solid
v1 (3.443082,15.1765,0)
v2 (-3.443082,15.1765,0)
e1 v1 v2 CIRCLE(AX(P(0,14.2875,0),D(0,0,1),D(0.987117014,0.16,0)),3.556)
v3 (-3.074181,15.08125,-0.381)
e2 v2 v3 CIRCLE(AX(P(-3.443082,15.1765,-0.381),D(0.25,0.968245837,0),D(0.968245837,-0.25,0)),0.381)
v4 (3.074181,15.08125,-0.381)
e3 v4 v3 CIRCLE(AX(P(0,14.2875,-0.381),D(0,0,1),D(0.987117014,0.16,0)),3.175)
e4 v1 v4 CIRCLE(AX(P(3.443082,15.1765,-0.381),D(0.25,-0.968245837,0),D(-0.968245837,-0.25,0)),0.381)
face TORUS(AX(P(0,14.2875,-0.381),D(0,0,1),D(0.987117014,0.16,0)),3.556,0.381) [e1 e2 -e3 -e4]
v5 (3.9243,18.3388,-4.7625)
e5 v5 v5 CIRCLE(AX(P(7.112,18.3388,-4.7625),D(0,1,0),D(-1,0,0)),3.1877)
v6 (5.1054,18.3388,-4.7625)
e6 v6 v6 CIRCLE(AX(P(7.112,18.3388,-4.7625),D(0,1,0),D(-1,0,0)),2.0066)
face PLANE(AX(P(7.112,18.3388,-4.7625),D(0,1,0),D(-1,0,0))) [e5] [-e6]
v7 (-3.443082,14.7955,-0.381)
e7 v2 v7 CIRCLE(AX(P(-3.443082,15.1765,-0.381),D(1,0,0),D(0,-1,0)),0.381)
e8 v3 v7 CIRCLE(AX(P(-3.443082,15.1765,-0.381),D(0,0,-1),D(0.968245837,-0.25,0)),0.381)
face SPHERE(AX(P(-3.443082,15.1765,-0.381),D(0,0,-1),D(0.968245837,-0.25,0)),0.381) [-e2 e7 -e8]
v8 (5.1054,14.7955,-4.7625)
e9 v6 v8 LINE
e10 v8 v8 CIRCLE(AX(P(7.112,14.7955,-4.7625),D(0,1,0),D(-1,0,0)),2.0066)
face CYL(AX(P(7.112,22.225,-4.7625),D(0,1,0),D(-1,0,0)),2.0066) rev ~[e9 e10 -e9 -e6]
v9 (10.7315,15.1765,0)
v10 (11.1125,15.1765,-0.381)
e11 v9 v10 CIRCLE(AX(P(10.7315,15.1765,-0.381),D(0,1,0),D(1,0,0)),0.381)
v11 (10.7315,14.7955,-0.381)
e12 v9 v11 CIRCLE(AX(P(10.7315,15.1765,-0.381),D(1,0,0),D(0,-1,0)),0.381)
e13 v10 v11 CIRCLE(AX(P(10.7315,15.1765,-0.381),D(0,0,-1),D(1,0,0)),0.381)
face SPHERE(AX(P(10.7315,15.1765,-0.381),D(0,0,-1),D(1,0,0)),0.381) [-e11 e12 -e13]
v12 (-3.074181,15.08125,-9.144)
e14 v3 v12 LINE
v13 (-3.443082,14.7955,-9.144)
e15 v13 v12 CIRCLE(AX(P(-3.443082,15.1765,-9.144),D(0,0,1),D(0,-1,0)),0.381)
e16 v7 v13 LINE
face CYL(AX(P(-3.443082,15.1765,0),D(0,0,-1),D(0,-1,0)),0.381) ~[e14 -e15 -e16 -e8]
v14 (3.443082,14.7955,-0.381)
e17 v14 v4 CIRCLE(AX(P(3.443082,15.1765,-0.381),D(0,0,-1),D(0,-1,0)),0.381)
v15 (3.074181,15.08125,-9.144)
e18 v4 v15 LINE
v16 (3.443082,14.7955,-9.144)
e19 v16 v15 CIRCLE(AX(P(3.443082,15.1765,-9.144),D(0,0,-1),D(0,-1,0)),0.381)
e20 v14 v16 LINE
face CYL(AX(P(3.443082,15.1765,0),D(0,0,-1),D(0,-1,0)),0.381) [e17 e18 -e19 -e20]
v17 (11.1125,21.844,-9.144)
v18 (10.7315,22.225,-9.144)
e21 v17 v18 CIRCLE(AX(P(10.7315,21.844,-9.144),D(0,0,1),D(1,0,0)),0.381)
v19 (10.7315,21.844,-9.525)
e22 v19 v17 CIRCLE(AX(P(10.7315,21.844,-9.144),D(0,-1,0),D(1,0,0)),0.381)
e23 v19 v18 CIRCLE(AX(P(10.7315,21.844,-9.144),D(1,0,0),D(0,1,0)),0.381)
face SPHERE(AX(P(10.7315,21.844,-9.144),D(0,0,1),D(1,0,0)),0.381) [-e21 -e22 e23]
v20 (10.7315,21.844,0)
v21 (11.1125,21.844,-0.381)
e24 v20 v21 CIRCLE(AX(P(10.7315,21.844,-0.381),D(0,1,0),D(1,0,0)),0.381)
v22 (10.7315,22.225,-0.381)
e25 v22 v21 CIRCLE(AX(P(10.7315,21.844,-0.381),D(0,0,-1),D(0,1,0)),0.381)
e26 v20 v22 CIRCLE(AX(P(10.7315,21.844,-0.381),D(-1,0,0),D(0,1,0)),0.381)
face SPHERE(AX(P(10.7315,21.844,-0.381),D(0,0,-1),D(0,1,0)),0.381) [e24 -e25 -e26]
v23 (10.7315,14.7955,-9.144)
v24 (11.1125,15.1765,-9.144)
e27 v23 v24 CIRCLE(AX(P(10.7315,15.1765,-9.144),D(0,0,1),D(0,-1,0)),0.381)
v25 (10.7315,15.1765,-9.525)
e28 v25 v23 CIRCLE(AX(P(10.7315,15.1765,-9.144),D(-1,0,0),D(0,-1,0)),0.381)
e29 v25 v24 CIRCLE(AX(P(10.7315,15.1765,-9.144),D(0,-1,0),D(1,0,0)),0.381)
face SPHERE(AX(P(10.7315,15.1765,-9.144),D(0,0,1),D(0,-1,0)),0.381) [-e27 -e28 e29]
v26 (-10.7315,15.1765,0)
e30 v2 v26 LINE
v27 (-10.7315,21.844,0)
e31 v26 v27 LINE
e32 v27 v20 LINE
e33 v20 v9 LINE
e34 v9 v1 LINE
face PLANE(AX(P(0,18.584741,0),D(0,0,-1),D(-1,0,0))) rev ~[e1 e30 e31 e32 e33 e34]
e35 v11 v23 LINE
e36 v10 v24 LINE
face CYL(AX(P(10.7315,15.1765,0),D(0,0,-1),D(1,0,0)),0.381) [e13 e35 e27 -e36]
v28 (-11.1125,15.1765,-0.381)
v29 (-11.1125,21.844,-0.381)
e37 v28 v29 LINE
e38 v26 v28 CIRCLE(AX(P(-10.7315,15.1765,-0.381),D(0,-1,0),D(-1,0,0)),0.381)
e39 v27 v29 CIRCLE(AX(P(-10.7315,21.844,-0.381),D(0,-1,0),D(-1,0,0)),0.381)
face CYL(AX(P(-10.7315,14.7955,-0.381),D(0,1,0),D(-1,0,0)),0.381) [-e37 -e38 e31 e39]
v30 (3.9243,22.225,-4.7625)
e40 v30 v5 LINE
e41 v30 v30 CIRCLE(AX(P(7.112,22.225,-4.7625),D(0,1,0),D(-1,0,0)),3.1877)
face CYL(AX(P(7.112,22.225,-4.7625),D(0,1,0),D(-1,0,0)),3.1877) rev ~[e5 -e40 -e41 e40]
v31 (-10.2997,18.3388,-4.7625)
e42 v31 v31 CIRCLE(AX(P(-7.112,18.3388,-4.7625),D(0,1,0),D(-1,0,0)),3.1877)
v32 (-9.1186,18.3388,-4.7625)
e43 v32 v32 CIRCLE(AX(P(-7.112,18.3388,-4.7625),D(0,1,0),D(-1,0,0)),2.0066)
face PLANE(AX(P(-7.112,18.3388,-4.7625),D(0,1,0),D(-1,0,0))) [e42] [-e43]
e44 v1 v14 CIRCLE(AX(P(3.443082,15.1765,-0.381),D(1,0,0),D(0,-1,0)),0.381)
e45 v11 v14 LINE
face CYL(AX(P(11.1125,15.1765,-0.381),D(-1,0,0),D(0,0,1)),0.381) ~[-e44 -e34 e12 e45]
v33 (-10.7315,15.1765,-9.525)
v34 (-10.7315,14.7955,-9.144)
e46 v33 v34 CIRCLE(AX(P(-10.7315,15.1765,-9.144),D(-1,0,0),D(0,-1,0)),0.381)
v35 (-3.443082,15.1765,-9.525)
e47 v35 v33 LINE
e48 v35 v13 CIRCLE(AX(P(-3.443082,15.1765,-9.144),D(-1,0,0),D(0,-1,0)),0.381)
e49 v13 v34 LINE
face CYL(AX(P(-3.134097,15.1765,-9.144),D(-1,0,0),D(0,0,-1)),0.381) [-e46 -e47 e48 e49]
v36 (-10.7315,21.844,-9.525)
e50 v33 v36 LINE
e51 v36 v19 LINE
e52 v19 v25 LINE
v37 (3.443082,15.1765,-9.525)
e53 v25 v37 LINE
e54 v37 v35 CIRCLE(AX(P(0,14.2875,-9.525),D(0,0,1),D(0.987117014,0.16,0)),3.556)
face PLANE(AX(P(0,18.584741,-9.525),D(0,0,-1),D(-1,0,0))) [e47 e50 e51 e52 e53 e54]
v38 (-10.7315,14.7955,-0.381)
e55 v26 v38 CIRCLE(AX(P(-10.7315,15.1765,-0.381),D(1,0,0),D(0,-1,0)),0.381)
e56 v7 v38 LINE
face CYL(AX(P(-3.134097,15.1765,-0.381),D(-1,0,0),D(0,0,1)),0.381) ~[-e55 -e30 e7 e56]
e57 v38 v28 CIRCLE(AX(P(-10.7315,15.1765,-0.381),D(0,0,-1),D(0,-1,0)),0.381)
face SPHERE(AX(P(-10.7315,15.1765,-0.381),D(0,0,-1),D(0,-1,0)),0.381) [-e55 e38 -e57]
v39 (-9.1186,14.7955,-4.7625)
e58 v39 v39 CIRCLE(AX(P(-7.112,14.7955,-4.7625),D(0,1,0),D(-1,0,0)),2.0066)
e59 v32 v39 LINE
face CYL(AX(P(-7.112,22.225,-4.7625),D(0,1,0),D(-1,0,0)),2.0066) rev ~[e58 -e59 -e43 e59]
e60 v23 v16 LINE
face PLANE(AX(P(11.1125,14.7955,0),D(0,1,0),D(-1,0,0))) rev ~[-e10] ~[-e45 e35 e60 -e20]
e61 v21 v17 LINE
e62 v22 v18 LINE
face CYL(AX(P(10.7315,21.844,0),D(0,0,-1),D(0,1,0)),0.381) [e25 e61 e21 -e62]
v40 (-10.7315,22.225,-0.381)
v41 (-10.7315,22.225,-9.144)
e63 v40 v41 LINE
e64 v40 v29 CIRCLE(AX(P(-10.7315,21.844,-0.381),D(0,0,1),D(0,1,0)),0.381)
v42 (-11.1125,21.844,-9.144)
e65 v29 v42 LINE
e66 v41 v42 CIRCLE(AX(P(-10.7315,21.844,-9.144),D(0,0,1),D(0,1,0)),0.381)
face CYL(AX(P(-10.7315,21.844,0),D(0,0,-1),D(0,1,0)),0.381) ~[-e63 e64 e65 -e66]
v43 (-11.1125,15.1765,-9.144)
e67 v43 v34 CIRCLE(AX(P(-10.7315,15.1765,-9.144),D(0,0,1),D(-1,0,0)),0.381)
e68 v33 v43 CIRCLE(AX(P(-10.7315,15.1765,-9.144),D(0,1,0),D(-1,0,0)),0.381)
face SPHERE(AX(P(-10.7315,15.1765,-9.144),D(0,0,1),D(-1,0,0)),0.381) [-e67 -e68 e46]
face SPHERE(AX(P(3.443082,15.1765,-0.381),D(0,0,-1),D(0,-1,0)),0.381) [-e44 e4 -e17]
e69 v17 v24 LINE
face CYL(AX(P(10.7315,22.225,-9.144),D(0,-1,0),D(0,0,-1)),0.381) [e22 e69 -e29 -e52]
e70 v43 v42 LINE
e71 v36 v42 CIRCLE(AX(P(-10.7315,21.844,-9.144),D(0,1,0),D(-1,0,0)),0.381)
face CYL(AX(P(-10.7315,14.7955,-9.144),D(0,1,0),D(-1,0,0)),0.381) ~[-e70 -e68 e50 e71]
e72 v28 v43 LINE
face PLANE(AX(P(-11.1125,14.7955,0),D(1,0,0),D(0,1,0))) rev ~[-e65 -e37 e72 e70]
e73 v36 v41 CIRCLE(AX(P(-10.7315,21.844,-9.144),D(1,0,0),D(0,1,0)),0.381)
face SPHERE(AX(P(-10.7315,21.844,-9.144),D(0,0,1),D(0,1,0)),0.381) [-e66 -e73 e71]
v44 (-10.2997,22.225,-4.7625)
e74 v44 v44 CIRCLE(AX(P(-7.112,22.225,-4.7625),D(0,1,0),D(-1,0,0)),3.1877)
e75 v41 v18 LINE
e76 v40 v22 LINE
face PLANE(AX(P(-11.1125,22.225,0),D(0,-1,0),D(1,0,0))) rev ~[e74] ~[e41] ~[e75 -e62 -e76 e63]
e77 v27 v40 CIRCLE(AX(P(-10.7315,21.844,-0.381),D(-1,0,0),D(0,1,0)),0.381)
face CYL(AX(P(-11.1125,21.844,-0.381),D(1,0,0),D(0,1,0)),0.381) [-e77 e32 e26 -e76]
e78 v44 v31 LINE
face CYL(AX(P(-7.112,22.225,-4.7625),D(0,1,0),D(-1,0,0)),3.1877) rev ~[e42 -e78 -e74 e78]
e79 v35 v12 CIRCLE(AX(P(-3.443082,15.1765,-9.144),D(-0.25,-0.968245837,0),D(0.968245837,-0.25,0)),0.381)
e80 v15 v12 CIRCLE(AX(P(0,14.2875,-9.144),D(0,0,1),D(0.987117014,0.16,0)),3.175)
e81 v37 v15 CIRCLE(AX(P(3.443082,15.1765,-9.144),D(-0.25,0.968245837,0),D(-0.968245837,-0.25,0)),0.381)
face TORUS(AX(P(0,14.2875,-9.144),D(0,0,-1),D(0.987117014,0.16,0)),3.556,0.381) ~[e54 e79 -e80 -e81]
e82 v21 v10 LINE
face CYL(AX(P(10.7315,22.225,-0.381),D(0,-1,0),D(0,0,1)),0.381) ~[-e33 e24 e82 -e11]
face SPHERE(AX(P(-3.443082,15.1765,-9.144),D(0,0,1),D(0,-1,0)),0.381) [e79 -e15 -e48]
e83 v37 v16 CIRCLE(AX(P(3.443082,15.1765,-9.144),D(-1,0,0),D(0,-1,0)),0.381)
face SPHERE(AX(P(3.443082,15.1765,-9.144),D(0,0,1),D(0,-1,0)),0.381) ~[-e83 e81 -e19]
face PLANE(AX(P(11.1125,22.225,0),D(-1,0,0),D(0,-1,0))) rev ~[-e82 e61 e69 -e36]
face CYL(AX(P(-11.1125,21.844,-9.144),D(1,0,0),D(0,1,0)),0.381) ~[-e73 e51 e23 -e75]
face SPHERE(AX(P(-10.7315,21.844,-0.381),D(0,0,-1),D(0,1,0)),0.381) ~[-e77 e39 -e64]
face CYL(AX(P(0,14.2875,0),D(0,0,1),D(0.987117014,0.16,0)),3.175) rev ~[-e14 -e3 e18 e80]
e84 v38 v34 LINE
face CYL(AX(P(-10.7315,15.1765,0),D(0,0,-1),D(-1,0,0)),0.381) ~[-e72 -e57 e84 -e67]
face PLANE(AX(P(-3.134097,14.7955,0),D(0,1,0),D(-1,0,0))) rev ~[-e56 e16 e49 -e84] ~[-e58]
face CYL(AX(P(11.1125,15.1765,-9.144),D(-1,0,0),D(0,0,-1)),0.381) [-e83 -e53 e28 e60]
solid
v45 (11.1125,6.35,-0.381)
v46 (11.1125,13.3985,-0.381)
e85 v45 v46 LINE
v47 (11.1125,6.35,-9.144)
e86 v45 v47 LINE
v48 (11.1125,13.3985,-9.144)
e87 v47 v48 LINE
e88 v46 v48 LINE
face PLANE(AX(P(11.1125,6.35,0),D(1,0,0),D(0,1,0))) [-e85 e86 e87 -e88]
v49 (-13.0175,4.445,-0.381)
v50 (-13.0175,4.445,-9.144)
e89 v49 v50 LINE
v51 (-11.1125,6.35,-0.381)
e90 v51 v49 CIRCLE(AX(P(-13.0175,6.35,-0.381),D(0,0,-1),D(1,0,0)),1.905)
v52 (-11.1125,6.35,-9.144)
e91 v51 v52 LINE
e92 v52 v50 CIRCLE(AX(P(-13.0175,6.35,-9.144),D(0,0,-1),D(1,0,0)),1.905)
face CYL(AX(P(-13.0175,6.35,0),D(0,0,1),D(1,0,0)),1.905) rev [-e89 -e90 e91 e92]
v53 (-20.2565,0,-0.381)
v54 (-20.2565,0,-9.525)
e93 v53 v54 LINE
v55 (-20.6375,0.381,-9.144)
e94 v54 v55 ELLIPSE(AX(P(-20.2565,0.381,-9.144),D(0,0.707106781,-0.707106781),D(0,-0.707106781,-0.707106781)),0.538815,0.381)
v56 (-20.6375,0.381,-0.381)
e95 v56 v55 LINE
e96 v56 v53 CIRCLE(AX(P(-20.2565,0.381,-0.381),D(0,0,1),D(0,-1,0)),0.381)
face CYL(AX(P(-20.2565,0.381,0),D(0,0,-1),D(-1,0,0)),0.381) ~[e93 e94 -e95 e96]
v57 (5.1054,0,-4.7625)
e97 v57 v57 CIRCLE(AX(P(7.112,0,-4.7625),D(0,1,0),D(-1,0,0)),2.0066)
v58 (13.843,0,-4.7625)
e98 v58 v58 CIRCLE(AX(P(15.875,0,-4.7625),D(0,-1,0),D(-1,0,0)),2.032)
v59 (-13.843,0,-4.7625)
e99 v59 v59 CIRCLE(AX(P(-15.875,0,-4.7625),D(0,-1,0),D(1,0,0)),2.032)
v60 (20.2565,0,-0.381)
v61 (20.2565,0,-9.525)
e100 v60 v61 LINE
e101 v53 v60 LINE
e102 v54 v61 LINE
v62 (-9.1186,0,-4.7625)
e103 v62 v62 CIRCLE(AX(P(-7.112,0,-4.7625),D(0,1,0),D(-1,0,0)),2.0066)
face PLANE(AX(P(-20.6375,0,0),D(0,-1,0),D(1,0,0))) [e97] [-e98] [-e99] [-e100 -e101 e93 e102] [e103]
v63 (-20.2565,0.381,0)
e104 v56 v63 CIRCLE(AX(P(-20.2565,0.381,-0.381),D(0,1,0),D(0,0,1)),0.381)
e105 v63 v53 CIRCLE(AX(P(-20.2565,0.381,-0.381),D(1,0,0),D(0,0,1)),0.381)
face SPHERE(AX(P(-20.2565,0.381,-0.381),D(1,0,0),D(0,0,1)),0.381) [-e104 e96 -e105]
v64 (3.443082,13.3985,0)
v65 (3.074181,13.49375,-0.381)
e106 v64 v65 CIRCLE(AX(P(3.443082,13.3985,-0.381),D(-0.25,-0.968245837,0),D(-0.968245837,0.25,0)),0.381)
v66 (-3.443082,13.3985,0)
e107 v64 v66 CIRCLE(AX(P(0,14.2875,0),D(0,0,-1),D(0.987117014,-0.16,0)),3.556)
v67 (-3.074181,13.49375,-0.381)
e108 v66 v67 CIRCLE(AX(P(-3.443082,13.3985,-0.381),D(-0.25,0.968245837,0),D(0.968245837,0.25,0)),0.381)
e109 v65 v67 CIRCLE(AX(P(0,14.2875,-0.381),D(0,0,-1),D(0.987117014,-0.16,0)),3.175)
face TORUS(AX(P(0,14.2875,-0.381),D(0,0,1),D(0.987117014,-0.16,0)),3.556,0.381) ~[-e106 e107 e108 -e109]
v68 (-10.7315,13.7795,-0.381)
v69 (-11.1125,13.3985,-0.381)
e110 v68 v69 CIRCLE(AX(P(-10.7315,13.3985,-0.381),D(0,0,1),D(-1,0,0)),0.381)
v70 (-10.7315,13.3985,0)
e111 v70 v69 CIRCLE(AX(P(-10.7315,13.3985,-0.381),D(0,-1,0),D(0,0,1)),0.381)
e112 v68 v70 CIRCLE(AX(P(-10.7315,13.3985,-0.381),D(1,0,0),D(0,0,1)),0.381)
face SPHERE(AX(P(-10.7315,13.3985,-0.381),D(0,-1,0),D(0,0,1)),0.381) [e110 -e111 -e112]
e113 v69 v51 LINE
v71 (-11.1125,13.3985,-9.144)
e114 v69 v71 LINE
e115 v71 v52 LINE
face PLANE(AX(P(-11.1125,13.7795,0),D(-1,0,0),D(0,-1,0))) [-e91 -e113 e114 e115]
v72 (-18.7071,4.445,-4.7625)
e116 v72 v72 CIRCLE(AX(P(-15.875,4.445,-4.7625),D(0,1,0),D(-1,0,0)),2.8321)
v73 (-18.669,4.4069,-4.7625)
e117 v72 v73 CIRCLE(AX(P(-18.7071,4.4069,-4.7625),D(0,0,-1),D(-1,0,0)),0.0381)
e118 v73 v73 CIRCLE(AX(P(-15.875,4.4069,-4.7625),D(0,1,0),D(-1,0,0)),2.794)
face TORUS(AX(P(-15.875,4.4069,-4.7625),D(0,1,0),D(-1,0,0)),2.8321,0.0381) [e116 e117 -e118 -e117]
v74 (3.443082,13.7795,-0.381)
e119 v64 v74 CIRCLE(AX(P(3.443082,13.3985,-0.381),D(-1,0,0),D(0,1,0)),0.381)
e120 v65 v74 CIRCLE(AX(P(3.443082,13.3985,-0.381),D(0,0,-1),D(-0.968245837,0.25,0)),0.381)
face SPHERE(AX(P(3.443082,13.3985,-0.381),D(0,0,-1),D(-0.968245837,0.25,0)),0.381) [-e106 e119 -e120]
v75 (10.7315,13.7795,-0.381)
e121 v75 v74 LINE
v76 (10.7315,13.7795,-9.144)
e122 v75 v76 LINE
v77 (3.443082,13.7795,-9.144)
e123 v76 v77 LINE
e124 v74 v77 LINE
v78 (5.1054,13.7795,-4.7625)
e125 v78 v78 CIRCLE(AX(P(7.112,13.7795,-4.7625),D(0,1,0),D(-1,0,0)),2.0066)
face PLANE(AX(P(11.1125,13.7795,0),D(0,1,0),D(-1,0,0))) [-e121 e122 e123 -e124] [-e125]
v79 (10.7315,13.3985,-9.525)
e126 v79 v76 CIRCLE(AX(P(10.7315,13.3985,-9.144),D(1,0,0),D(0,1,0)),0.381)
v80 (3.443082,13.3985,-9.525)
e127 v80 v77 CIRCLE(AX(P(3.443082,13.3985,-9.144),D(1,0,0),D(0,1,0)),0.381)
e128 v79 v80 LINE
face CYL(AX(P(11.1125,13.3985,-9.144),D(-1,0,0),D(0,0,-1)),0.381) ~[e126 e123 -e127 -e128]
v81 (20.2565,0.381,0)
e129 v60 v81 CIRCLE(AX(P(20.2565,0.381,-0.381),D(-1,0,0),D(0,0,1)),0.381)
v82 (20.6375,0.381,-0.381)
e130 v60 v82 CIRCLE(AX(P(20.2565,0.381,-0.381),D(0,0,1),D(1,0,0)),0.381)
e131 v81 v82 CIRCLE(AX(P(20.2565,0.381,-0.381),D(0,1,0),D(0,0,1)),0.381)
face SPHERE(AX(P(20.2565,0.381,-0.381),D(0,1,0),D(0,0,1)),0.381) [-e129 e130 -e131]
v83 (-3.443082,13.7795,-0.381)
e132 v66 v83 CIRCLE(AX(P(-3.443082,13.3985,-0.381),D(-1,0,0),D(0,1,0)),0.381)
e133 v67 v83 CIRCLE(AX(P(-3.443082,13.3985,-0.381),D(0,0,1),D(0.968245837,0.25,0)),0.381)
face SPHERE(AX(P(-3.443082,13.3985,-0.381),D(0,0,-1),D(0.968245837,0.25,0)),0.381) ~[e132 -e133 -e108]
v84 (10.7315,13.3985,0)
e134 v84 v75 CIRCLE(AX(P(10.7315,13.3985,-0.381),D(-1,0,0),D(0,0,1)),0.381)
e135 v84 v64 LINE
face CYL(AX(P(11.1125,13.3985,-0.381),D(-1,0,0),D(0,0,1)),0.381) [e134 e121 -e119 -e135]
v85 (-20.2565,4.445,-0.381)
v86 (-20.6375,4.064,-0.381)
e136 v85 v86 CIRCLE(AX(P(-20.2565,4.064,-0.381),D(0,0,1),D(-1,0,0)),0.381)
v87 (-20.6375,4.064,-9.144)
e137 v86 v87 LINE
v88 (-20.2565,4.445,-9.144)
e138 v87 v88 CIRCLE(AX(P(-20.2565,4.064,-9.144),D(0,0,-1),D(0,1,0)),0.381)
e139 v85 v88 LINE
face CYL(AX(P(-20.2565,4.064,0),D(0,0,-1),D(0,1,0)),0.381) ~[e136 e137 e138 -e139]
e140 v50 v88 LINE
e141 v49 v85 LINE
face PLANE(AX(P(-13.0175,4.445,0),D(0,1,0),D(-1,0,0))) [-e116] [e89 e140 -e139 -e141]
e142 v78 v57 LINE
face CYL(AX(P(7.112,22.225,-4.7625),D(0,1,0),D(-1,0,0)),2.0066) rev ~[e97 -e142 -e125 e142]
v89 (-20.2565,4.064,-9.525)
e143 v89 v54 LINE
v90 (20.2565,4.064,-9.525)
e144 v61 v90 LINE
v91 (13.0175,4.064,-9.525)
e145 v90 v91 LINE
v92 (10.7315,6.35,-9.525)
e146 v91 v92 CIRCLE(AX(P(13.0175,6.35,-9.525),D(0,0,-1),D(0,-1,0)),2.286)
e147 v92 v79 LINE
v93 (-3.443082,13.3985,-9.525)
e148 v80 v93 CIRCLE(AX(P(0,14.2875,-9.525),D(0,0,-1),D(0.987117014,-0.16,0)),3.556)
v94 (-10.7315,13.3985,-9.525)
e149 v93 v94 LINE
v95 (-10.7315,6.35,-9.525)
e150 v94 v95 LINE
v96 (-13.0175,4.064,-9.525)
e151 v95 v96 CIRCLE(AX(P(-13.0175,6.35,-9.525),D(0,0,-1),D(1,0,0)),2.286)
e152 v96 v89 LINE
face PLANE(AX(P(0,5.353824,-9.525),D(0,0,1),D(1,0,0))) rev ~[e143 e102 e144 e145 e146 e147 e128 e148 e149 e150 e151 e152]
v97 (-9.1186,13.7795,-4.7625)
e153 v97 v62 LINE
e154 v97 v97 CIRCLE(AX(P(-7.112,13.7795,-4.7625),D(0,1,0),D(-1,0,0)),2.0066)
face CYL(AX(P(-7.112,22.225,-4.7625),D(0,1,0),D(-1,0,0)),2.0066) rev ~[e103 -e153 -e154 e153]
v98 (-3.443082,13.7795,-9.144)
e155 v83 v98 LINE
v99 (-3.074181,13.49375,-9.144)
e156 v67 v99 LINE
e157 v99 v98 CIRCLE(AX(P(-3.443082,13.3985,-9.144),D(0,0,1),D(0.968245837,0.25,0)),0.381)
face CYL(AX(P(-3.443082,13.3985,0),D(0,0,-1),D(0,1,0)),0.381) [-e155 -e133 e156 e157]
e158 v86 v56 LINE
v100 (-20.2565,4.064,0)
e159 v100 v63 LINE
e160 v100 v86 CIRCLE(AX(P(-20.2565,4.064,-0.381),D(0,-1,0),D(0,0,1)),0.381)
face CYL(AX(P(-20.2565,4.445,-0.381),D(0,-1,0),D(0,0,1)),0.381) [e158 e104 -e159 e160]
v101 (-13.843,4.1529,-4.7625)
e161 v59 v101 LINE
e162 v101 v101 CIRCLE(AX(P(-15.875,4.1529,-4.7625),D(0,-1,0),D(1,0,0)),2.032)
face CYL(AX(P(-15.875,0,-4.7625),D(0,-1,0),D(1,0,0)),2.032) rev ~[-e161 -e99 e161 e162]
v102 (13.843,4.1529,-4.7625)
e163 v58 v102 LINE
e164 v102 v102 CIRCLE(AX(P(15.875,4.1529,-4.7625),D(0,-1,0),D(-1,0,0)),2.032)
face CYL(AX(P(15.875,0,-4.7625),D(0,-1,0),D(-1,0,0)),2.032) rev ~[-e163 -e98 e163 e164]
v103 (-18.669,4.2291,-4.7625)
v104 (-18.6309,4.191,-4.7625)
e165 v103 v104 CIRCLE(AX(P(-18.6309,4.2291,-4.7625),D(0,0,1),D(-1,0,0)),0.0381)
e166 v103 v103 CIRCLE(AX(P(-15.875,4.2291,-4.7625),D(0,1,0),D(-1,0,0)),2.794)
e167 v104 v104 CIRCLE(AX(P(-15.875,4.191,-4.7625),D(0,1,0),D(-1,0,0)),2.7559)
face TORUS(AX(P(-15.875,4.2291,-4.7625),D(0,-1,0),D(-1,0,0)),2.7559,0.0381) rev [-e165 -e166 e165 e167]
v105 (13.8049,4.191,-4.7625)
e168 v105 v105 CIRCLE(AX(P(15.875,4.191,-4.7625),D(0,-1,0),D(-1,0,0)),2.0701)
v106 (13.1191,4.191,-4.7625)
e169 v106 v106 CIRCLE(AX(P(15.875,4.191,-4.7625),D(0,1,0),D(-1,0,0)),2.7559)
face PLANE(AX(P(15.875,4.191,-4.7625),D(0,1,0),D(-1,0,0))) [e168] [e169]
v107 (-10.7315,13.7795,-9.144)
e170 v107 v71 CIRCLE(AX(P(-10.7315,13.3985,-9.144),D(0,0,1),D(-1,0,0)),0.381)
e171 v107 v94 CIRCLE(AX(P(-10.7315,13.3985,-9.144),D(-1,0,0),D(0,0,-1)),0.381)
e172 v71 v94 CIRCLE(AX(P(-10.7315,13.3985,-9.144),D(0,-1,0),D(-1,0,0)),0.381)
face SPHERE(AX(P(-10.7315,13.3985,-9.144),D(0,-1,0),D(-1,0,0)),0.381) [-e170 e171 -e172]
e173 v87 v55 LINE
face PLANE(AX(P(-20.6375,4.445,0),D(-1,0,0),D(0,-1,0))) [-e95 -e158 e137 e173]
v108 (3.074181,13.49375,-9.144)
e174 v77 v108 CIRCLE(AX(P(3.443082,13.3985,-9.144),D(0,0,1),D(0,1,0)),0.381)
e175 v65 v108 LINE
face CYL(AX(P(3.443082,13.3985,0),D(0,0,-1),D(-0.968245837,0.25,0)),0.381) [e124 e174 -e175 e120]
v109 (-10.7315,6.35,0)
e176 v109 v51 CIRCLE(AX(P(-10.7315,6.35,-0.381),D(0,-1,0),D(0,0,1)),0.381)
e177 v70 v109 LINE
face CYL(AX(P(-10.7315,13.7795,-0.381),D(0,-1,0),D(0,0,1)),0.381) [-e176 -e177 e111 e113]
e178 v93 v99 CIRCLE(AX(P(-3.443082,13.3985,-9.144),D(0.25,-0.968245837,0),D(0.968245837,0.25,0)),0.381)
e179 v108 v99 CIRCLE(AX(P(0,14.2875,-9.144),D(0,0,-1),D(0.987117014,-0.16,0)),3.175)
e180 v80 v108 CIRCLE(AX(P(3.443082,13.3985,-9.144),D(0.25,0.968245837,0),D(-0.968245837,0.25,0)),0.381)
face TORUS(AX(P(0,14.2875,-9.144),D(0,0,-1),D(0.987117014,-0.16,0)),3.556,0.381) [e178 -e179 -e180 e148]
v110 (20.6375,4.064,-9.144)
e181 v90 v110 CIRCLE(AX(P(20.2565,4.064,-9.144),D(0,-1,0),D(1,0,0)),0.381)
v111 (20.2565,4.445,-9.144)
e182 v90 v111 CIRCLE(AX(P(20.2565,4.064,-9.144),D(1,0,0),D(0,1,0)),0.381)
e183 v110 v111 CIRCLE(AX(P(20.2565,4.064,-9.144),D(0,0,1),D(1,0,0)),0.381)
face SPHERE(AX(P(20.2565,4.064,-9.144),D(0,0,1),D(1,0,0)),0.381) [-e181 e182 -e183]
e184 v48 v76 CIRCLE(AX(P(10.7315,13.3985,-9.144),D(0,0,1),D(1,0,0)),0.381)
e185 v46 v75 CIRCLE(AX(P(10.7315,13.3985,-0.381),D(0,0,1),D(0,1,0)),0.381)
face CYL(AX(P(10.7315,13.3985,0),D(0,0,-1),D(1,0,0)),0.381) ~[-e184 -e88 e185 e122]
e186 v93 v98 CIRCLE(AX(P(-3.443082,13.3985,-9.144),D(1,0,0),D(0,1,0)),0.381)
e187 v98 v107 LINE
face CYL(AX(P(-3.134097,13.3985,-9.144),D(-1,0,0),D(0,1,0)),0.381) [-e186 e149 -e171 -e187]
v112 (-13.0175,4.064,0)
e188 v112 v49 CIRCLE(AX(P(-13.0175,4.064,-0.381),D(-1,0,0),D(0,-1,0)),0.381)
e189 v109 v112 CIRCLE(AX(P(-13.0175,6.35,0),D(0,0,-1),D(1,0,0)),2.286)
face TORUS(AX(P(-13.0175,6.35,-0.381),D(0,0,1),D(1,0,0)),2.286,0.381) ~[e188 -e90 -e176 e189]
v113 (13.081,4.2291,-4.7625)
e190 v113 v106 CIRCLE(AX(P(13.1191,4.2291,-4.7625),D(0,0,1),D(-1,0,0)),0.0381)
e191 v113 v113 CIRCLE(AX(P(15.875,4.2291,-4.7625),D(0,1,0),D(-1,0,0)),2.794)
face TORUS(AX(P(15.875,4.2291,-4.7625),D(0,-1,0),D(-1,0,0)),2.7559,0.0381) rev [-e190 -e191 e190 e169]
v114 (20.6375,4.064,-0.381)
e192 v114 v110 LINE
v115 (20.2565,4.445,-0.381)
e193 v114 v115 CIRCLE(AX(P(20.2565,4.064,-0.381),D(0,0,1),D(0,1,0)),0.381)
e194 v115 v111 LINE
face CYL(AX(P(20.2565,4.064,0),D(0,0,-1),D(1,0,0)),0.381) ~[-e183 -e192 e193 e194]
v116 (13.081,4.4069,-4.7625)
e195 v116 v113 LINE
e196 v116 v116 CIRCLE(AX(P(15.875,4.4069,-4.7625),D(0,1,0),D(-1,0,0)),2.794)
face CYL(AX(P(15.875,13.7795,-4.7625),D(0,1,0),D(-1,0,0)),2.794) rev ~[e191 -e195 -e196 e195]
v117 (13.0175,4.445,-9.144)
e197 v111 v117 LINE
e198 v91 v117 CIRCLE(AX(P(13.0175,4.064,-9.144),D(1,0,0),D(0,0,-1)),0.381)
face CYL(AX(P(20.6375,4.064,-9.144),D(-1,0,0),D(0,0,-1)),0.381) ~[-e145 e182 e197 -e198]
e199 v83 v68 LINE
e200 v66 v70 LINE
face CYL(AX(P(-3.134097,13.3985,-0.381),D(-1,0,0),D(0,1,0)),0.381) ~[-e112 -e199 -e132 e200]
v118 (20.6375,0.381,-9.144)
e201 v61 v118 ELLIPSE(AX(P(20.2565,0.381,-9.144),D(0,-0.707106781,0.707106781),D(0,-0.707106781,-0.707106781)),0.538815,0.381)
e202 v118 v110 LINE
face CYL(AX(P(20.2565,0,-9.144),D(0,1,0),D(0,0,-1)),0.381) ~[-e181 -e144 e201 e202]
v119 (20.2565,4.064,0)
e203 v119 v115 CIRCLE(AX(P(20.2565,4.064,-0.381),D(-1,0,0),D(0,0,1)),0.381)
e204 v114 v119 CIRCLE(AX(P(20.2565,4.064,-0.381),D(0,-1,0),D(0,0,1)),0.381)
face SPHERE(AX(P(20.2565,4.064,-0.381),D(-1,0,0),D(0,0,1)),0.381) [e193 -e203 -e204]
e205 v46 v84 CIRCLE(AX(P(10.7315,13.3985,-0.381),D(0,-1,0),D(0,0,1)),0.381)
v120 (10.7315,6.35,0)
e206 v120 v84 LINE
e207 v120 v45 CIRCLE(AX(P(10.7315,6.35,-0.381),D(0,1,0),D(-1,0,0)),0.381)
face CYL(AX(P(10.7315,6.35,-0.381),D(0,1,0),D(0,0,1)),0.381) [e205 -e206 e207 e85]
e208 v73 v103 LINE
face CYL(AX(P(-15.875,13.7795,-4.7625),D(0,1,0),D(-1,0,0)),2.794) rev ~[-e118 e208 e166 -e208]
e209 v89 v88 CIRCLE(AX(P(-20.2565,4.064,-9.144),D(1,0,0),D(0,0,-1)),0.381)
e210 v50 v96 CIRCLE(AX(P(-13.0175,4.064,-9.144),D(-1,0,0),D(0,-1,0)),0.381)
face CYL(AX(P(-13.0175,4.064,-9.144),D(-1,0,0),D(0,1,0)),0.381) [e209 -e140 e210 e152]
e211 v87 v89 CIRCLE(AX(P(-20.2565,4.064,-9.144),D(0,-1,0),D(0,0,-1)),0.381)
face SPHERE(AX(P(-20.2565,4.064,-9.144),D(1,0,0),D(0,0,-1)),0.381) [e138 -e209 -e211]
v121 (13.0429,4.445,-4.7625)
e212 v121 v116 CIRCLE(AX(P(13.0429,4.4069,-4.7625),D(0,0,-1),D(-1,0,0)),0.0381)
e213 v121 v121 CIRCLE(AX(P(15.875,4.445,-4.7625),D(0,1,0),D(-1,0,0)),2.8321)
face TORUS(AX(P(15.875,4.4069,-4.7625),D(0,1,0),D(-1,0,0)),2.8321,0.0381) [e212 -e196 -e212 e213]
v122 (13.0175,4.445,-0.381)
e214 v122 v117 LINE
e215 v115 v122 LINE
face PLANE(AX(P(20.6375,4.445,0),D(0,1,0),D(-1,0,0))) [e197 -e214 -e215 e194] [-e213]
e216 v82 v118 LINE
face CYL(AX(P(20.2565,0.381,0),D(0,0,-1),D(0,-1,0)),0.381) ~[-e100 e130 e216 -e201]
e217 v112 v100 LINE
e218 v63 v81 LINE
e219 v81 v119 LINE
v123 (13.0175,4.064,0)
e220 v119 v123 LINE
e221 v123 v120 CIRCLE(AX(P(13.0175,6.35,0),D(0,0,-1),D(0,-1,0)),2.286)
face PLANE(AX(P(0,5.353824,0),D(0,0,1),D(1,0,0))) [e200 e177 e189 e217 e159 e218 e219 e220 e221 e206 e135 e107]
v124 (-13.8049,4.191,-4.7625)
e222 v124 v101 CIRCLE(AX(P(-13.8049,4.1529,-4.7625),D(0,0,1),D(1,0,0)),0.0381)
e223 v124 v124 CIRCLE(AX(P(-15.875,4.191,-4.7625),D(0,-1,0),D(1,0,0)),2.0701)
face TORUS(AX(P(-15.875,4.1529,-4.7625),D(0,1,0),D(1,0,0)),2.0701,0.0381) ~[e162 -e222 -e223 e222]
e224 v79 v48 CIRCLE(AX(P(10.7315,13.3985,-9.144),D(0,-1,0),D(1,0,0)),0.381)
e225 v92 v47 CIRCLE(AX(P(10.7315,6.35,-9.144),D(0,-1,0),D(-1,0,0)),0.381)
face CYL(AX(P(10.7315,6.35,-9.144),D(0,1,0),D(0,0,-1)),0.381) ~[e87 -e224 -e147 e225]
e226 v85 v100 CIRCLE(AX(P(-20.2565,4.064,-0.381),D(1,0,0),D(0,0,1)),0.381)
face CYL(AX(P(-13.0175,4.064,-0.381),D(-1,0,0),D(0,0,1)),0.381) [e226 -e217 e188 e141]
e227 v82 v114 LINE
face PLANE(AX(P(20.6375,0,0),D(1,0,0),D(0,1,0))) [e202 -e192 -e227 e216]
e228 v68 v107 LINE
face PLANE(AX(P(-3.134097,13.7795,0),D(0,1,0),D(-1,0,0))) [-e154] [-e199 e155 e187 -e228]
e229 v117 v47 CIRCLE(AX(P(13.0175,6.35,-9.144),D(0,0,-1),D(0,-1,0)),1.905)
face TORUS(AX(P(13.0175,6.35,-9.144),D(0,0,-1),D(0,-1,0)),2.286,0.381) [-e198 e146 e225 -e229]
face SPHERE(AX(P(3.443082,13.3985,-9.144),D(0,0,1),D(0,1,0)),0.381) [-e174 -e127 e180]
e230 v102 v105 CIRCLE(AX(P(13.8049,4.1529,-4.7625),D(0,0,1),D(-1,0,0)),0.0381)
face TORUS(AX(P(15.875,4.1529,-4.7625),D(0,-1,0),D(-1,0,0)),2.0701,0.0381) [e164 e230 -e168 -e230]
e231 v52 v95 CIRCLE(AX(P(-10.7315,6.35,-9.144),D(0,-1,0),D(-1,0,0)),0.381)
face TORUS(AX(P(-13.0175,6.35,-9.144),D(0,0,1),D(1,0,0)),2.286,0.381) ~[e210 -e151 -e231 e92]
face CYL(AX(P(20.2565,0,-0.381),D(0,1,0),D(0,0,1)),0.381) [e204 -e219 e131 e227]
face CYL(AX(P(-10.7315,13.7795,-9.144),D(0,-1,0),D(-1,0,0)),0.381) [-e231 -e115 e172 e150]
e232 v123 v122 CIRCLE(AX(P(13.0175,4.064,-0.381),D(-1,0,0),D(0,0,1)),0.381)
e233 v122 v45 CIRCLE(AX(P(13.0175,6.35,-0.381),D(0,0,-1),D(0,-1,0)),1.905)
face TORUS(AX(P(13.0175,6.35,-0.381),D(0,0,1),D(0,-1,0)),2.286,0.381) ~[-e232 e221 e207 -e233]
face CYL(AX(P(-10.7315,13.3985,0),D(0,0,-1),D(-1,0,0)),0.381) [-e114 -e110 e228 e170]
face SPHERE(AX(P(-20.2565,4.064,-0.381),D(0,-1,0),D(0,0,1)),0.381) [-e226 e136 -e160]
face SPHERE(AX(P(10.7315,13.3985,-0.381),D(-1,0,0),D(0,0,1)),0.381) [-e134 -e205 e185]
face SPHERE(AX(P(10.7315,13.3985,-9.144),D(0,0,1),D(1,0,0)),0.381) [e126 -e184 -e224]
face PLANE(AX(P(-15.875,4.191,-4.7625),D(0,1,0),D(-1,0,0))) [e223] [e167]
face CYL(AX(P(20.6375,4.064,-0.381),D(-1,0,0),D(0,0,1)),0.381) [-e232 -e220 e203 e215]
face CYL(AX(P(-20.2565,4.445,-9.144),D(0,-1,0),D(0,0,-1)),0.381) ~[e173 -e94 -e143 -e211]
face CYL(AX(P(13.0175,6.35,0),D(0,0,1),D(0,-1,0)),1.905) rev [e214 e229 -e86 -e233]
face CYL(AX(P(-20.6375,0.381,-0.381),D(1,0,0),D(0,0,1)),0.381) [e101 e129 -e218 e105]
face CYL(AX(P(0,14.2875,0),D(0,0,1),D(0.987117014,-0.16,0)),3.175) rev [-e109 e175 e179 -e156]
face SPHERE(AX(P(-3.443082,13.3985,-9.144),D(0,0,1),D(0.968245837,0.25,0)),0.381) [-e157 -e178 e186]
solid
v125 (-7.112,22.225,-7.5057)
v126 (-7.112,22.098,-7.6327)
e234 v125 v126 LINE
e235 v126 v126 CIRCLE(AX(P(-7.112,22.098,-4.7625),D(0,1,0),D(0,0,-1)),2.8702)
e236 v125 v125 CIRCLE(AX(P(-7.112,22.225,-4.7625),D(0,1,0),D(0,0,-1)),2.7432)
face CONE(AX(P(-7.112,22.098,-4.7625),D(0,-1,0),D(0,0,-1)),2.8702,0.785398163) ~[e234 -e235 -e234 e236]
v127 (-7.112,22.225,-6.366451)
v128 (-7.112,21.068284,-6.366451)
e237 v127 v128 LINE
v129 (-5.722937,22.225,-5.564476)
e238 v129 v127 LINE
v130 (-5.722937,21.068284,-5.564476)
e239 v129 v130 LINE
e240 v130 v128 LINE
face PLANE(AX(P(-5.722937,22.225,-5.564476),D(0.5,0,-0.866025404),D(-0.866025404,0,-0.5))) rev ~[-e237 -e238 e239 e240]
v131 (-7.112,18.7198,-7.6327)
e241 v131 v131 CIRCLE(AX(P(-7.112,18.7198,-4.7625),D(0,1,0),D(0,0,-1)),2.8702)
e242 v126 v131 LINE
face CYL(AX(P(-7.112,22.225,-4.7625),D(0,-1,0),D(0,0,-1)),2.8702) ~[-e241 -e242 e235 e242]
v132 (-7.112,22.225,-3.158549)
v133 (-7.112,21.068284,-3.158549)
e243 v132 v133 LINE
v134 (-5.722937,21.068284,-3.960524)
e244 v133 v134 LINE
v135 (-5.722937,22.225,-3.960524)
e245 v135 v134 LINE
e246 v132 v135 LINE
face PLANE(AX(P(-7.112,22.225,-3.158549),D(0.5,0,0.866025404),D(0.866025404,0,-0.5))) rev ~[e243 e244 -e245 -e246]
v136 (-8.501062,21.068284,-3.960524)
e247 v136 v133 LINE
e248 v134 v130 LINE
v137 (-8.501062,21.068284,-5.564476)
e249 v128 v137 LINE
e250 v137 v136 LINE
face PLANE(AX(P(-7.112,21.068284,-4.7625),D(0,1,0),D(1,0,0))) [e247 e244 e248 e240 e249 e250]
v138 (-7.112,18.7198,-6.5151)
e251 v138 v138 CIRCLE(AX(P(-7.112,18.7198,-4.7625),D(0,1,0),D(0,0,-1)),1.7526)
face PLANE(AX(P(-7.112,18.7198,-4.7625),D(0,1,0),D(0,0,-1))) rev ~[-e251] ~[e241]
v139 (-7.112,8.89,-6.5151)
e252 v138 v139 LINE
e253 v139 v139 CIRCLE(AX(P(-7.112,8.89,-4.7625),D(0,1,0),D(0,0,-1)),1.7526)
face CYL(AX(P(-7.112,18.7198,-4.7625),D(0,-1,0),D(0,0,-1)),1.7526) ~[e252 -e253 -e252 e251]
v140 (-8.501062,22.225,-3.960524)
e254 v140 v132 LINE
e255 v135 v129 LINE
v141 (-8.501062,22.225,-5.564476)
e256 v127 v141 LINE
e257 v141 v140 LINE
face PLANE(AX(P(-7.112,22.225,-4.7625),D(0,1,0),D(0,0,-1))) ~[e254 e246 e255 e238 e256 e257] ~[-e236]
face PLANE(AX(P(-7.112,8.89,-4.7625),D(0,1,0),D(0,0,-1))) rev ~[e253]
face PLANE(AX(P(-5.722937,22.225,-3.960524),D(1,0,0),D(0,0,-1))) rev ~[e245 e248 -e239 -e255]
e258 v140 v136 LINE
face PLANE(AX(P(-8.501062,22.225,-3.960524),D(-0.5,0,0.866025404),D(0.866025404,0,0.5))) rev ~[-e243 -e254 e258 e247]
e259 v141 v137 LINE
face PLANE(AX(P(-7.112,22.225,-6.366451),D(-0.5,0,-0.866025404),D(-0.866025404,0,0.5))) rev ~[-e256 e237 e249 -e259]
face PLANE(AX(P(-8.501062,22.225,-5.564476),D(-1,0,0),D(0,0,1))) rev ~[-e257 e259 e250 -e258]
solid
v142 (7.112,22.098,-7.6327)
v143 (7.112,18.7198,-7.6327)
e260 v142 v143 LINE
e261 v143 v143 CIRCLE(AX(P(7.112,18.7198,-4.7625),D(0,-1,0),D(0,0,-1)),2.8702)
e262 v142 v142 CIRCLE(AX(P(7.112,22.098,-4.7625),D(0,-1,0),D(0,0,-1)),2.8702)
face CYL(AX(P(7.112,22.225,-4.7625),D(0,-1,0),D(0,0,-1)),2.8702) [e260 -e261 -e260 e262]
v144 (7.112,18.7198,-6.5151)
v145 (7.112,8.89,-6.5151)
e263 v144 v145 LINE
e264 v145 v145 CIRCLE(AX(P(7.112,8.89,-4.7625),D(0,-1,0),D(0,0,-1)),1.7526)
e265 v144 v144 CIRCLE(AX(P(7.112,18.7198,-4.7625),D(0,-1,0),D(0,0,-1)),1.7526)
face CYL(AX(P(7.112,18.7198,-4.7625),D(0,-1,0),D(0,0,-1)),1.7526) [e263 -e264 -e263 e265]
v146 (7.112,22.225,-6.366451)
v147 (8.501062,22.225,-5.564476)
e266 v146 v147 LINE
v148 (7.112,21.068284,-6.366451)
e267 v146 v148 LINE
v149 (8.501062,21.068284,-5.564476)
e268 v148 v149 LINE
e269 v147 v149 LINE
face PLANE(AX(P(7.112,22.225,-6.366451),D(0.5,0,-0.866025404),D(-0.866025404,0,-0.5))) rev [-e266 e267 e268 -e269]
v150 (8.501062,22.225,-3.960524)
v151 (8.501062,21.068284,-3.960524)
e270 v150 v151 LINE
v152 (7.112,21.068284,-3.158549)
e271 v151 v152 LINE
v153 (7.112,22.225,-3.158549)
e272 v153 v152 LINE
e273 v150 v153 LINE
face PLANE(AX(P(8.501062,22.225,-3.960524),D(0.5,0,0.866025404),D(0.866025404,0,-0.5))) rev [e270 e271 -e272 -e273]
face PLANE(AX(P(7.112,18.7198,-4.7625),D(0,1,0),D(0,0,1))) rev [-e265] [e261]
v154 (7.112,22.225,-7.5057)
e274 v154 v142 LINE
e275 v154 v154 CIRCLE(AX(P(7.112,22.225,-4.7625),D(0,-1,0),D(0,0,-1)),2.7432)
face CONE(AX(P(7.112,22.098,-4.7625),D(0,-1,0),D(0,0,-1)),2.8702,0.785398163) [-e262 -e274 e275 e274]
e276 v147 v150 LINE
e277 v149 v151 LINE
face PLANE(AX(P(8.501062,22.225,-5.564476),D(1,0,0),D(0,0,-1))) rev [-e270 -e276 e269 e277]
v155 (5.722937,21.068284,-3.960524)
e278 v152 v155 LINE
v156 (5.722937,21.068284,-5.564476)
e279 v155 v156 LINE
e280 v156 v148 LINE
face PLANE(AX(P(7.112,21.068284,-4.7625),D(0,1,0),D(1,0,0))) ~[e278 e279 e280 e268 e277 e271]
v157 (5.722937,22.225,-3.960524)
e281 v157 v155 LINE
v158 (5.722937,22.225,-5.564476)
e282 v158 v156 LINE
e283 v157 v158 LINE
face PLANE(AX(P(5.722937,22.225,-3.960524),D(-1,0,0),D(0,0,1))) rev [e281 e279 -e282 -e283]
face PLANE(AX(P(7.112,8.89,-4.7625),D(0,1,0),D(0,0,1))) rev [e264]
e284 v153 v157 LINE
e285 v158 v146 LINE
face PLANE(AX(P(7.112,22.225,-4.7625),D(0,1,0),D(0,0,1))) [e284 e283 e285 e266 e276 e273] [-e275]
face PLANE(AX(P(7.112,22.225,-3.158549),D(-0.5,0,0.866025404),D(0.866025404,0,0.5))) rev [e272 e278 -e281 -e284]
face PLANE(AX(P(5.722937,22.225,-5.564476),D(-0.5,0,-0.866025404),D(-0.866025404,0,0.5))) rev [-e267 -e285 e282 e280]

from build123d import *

# Parameters (mm, degrees)
BOSS_EXTRUDE1_DEPTH   = 9.525
BOSS_EXTRUDE1_2_DEPTH = 9.525
SKETCH4_R             = 2.032
CUT_EXTRUDE1_DEPTH    = 32.789662726
SKETCH8_R             = 2.794
CUT_EXTRUDE3_DEPTH    = 9.5885
SKETCH10_R            = 2.0066
CUT_EXTRUDE4_DEPTH    = 32.789662726
SKETCH12_R            = 3.1877
CUT_EXTRUDE5_DEPTH    = 3.8862
CHAMFER1_SIZE         = 0.127
CUT_EXTRUDE6_DEPTH    = 1.156716
FILLET1_R             = 0.381
FILLET2_R             = 0.381
FILLET3_R             = 0.0381


with BuildPart() as part:
    # Sketch3 → Boss-Extrude1 (new body)
    with BuildSketch(Plane.XY):
        with BuildLine():
            Line((-11.1125, 22.225), (11.1125, 22.225))
            Line((11.1125, 22.225), (11.1125, 14.7955))
            Line((11.1125, 14.7955), (3.134096521, 14.7955))
            ThreePointArc((3.134096521, 14.7955), (0, 17.4625), (-3.134096521, 14.7955))
            Line((-3.134096521, 14.7955), (-11.1125, 14.7955))
            Line((-11.1125, 14.7955), (-11.1125, 22.225))
        make_face()
    extrude(amount=-BOSS_EXTRUDE1_DEPTH)


with BuildPart() as body_2:
    # Sketch3 → Boss-Extrude1 2 (new body)
    with BuildSketch(Plane.XY):
        with BuildLine():
            Line((-11.1125, 13.7795), (-11.1125, 6.35))
            ThreePointArc((-11.1125, 6.35), (-11.670461582, 5.002961582), (-13.0175, 4.445))
            Line((-13.0175, 4.445), (-20.6375, 4.445))
            Line((-20.6375, 4.445), (-20.6375, 0))
            Line((-20.6375, 0), (20.6375, 0))
            Line((20.6375, 0), (20.6375, 4.445))
            Line((20.6375, 4.445), (13.0175, 4.445))
            ThreePointArc((13.0175, 4.445), (11.670461582, 5.002961582), (11.1125, 6.35))
            Line((11.1125, 6.35), (11.1125, 13.7795))
            Line((11.1125, 13.7795), (3.134096521, 13.7795))
            ThreePointArc((3.134096521, 13.7795), (0, 11.1125), (-3.134096521, 13.7795))
            Line((-3.134096521, 13.7795), (-11.1125, 13.7795))
        make_face()
    extrude(amount=-BOSS_EXTRUDE1_2_DEPTH)

    # Sketch4 → Cut-Extrude1 (cut, through all)
    with BuildSketch(Plane.XZ):
        with Locations((-15.875, -4.7625)):
            Circle(SKETCH4_R)
        with Locations(Location((15.875, -4.7625, 0), (0, 0, 180))):
            Circle(SKETCH4_R)
    extrude(amount=-CUT_EXTRUDE1_DEPTH, mode=Mode.SUBTRACT)

    # Sketch8 → Cut-Extrude3 (cut)
    with BuildSketch(Plane(origin=(0, 13.7795, 0), x_dir=(1, 0, 0), z_dir=(0, 1, 0))):
        with Locations(Location((-15.875, 4.7625, 0), (0, 0, 180))):
            Circle(SKETCH8_R)
        with Locations(Location((15.875, 4.7625, 0), (0, 0, 180))):
            Circle(SKETCH8_R)
    extrude(amount=-CUT_EXTRUDE3_DEPTH, mode=Mode.SUBTRACT)


with BuildPart() as cut_extrude4_tool:
    # Sketch10 → Cut-Extrude4 (new, through all)
    with BuildSketch(Plane(origin=(0, 22.225, 0), x_dir=(1, 0, 0), z_dir=(0, 1, 0))):
        with Locations(Location((7.112, 4.7625, 0), (0, 0, 180))):
            Circle(SKETCH10_R)
        with Locations(Location((-7.112, 4.7625, 0), (0, 0, 180))):
            Circle(SKETCH10_R)
    extrude(amount=-CUT_EXTRUDE4_DEPTH)


with BuildPart() as part_1:
    add(part.part)

    # Cut-Extrude4: cut by cut_extrude4_tool
    add(cut_extrude4_tool.part, mode=Mode.SUBTRACT)

    # Sketch12 → Cut-Extrude5 (cut)
    with BuildSketch(Plane(origin=(0, 22.225, 0), x_dir=(1, 0, 0), z_dir=(0, 1, 0))):
        with Locations(Location((7.112, 4.7625, 0), (0, 0, 180))):
            Circle(SKETCH12_R)
        with Locations(Location((-7.112, 4.7625, 0), (0, 0, 180))):
            Circle(SKETCH12_R)
    extrude(amount=-CUT_EXTRUDE5_DEPTH, mode=Mode.SUBTRACT)

    # Fillet1
    fillet1_edges = [part_1.edges().sort_by_distance(p)[0] for p in [
        (0, 17.4625, -9.525),
        (-11.1125, 22.225, -4.7625),
        (11.1125, 22.225, -4.7625),
        (11.1125, 14.7955, -4.7625),
        (3.134096521, 14.7955, -4.7625),
        (-3.134096521, 14.7955, -4.7625),
        (-11.1125, 14.7955, -4.7625),
        (7.12329826, 14.7955, -9.525),
        (11.1125, 18.51025, -9.525),
        (0, 22.225, -9.525),
        (-11.1125, 18.51025, -9.525),
        (0, 22.225, 0),
        (11.1125, 18.51025, 0),
        (7.12329826, 14.7955, 0),
        (-7.12329826, 14.7955, -9.525),
        (0, 17.4625, 0),
        (-7.12329826, 14.7955, 0),
        (-11.1125, 18.51025, 0),
    ]]
    fillet(fillet1_edges, radius=FILLET1_R)


with BuildPart() as body_2_1:
    add(body_2.part)

    # Cut-Extrude4: cut by cut_extrude4_tool
    add(cut_extrude4_tool.part, mode=Mode.SUBTRACT)

    # Fillet2
    fillet2_edges = [body_2_1.edges().sort_by_distance(p)[0] for p in [
        (-11.670461582, 5.002961582, -9.525),
        (0, 11.1125, 0),
        (7.12329826, 13.7795, 0),
        (11.1125, 10.06475, 0),
        (11.670461582, 5.002961582, 0),
        (16.8275, 4.445, 0),
        (20.6375, 2.2225, 0),
        (-16.8275, 4.445, -9.525),
        (0, 0, 0),
        (-20.6375, 2.2225, 0),
        (-16.8275, 4.445, 0),
        (-11.670461582, 5.002961582, 0),
        (-11.1125, 10.06475, 0),
        (-7.12329826, 13.7795, 0),
        (-20.6375, 2.2225, -9.525),
        (-3.134096521, 13.7795, -4.7625),
        (3.134096521, 13.7795, -4.7625),
        (11.1125, 13.7795, -4.7625),
        (20.6375, 4.445, -4.7625),
        (20.6375, 0, -4.7625),
        (-20.6375, 0, -4.7625),
        (-20.6375, 4.445, -4.7625),
        (-11.1125, 13.7795, -4.7625),
        (20.6375, 2.2225, -9.525),
        (16.8275, 4.445, -9.525),
        (11.670461582, 5.002961582, -9.525),
        (11.1125, 10.06475, -9.525),
        (7.12329826, 13.7795, -9.525),
        (0, 11.1125, -9.525),
        (-7.12329826, 13.7795, -9.525),
        (-11.1125, 10.06475, -9.525),
    ]]
    fillet(fillet2_edges, radius=FILLET2_R)

    # Fillet3
    fillet3_edges = [body_2_1.edges().sort_by_distance(p)[0] for p in [
        (-13.081, 4.445, -4.7625),
        (-13.081, 4.191, -4.7625),
        (-17.907, 4.191, -4.7625),
        (18.669, 4.445, -4.7625),
        (17.907, 4.191, -4.7625),
        (18.669, 4.191, -4.7625),
    ]]
    fillet(fillet3_edges, radius=FILLET3_R)


with BuildPart() as body_3:
    # Sketch15 → Revolve1 (revolve)
    with BuildSketch(Plane.XY.offset(-4.7625), mode=Mode.PRIVATE) as revolve1_sk:
        Polygon((-7.112, 8.89), (-7.112, 22.225), (-9.9822, 22.225), (-9.9822, 18.7198), (-8.8646, 18.7198), (-8.8646, 8.89), align=None)
    revolve(revolve1_sk.sketch.rotate(Axis((-7.112, 8.89, -4.7625), (0, 1, 0)), 270), axis=Axis((-7.112, 8.89, -4.7625), (0, 1, 0)))

    # Chamfer1
    chamfer1_edges = [body_3.edges().sort_by_distance(p)[0] for p in [
        (-7.112, 22.225, -1.8923),
    ]]
    chamfer(chamfer1_edges, length=CHAMFER1_SIZE)

    # Sketch16 → Cut-Extrude6 (cut)
    with BuildSketch(Plane(origin=(0, 22.225, 0), x_dir=(1, 0, 0), z_dir=(0, 1, 0))):
        Polygon((-7.112, 6.366451217), (-8.5010625, 5.564475608), (-8.5010625, 3.960524392), (-7.112, 3.158548783), (-5.7229375, 3.960524392), (-5.7229375, 5.564475608), align=None)
    extrude(amount=-CUT_EXTRUDE6_DEPTH, mode=Mode.SUBTRACT)


with BuildPart() as body_4:
    # Mirror1: mirrored copy
    add(body_3.part.mirror(Plane(origin=(0, 0, 0), x_dir=(0, 0, 1), z_dir=(1, 0, 0))))


solid = Compound([part_1.part, body_2_1.part, body_3.part, body_4.part])
